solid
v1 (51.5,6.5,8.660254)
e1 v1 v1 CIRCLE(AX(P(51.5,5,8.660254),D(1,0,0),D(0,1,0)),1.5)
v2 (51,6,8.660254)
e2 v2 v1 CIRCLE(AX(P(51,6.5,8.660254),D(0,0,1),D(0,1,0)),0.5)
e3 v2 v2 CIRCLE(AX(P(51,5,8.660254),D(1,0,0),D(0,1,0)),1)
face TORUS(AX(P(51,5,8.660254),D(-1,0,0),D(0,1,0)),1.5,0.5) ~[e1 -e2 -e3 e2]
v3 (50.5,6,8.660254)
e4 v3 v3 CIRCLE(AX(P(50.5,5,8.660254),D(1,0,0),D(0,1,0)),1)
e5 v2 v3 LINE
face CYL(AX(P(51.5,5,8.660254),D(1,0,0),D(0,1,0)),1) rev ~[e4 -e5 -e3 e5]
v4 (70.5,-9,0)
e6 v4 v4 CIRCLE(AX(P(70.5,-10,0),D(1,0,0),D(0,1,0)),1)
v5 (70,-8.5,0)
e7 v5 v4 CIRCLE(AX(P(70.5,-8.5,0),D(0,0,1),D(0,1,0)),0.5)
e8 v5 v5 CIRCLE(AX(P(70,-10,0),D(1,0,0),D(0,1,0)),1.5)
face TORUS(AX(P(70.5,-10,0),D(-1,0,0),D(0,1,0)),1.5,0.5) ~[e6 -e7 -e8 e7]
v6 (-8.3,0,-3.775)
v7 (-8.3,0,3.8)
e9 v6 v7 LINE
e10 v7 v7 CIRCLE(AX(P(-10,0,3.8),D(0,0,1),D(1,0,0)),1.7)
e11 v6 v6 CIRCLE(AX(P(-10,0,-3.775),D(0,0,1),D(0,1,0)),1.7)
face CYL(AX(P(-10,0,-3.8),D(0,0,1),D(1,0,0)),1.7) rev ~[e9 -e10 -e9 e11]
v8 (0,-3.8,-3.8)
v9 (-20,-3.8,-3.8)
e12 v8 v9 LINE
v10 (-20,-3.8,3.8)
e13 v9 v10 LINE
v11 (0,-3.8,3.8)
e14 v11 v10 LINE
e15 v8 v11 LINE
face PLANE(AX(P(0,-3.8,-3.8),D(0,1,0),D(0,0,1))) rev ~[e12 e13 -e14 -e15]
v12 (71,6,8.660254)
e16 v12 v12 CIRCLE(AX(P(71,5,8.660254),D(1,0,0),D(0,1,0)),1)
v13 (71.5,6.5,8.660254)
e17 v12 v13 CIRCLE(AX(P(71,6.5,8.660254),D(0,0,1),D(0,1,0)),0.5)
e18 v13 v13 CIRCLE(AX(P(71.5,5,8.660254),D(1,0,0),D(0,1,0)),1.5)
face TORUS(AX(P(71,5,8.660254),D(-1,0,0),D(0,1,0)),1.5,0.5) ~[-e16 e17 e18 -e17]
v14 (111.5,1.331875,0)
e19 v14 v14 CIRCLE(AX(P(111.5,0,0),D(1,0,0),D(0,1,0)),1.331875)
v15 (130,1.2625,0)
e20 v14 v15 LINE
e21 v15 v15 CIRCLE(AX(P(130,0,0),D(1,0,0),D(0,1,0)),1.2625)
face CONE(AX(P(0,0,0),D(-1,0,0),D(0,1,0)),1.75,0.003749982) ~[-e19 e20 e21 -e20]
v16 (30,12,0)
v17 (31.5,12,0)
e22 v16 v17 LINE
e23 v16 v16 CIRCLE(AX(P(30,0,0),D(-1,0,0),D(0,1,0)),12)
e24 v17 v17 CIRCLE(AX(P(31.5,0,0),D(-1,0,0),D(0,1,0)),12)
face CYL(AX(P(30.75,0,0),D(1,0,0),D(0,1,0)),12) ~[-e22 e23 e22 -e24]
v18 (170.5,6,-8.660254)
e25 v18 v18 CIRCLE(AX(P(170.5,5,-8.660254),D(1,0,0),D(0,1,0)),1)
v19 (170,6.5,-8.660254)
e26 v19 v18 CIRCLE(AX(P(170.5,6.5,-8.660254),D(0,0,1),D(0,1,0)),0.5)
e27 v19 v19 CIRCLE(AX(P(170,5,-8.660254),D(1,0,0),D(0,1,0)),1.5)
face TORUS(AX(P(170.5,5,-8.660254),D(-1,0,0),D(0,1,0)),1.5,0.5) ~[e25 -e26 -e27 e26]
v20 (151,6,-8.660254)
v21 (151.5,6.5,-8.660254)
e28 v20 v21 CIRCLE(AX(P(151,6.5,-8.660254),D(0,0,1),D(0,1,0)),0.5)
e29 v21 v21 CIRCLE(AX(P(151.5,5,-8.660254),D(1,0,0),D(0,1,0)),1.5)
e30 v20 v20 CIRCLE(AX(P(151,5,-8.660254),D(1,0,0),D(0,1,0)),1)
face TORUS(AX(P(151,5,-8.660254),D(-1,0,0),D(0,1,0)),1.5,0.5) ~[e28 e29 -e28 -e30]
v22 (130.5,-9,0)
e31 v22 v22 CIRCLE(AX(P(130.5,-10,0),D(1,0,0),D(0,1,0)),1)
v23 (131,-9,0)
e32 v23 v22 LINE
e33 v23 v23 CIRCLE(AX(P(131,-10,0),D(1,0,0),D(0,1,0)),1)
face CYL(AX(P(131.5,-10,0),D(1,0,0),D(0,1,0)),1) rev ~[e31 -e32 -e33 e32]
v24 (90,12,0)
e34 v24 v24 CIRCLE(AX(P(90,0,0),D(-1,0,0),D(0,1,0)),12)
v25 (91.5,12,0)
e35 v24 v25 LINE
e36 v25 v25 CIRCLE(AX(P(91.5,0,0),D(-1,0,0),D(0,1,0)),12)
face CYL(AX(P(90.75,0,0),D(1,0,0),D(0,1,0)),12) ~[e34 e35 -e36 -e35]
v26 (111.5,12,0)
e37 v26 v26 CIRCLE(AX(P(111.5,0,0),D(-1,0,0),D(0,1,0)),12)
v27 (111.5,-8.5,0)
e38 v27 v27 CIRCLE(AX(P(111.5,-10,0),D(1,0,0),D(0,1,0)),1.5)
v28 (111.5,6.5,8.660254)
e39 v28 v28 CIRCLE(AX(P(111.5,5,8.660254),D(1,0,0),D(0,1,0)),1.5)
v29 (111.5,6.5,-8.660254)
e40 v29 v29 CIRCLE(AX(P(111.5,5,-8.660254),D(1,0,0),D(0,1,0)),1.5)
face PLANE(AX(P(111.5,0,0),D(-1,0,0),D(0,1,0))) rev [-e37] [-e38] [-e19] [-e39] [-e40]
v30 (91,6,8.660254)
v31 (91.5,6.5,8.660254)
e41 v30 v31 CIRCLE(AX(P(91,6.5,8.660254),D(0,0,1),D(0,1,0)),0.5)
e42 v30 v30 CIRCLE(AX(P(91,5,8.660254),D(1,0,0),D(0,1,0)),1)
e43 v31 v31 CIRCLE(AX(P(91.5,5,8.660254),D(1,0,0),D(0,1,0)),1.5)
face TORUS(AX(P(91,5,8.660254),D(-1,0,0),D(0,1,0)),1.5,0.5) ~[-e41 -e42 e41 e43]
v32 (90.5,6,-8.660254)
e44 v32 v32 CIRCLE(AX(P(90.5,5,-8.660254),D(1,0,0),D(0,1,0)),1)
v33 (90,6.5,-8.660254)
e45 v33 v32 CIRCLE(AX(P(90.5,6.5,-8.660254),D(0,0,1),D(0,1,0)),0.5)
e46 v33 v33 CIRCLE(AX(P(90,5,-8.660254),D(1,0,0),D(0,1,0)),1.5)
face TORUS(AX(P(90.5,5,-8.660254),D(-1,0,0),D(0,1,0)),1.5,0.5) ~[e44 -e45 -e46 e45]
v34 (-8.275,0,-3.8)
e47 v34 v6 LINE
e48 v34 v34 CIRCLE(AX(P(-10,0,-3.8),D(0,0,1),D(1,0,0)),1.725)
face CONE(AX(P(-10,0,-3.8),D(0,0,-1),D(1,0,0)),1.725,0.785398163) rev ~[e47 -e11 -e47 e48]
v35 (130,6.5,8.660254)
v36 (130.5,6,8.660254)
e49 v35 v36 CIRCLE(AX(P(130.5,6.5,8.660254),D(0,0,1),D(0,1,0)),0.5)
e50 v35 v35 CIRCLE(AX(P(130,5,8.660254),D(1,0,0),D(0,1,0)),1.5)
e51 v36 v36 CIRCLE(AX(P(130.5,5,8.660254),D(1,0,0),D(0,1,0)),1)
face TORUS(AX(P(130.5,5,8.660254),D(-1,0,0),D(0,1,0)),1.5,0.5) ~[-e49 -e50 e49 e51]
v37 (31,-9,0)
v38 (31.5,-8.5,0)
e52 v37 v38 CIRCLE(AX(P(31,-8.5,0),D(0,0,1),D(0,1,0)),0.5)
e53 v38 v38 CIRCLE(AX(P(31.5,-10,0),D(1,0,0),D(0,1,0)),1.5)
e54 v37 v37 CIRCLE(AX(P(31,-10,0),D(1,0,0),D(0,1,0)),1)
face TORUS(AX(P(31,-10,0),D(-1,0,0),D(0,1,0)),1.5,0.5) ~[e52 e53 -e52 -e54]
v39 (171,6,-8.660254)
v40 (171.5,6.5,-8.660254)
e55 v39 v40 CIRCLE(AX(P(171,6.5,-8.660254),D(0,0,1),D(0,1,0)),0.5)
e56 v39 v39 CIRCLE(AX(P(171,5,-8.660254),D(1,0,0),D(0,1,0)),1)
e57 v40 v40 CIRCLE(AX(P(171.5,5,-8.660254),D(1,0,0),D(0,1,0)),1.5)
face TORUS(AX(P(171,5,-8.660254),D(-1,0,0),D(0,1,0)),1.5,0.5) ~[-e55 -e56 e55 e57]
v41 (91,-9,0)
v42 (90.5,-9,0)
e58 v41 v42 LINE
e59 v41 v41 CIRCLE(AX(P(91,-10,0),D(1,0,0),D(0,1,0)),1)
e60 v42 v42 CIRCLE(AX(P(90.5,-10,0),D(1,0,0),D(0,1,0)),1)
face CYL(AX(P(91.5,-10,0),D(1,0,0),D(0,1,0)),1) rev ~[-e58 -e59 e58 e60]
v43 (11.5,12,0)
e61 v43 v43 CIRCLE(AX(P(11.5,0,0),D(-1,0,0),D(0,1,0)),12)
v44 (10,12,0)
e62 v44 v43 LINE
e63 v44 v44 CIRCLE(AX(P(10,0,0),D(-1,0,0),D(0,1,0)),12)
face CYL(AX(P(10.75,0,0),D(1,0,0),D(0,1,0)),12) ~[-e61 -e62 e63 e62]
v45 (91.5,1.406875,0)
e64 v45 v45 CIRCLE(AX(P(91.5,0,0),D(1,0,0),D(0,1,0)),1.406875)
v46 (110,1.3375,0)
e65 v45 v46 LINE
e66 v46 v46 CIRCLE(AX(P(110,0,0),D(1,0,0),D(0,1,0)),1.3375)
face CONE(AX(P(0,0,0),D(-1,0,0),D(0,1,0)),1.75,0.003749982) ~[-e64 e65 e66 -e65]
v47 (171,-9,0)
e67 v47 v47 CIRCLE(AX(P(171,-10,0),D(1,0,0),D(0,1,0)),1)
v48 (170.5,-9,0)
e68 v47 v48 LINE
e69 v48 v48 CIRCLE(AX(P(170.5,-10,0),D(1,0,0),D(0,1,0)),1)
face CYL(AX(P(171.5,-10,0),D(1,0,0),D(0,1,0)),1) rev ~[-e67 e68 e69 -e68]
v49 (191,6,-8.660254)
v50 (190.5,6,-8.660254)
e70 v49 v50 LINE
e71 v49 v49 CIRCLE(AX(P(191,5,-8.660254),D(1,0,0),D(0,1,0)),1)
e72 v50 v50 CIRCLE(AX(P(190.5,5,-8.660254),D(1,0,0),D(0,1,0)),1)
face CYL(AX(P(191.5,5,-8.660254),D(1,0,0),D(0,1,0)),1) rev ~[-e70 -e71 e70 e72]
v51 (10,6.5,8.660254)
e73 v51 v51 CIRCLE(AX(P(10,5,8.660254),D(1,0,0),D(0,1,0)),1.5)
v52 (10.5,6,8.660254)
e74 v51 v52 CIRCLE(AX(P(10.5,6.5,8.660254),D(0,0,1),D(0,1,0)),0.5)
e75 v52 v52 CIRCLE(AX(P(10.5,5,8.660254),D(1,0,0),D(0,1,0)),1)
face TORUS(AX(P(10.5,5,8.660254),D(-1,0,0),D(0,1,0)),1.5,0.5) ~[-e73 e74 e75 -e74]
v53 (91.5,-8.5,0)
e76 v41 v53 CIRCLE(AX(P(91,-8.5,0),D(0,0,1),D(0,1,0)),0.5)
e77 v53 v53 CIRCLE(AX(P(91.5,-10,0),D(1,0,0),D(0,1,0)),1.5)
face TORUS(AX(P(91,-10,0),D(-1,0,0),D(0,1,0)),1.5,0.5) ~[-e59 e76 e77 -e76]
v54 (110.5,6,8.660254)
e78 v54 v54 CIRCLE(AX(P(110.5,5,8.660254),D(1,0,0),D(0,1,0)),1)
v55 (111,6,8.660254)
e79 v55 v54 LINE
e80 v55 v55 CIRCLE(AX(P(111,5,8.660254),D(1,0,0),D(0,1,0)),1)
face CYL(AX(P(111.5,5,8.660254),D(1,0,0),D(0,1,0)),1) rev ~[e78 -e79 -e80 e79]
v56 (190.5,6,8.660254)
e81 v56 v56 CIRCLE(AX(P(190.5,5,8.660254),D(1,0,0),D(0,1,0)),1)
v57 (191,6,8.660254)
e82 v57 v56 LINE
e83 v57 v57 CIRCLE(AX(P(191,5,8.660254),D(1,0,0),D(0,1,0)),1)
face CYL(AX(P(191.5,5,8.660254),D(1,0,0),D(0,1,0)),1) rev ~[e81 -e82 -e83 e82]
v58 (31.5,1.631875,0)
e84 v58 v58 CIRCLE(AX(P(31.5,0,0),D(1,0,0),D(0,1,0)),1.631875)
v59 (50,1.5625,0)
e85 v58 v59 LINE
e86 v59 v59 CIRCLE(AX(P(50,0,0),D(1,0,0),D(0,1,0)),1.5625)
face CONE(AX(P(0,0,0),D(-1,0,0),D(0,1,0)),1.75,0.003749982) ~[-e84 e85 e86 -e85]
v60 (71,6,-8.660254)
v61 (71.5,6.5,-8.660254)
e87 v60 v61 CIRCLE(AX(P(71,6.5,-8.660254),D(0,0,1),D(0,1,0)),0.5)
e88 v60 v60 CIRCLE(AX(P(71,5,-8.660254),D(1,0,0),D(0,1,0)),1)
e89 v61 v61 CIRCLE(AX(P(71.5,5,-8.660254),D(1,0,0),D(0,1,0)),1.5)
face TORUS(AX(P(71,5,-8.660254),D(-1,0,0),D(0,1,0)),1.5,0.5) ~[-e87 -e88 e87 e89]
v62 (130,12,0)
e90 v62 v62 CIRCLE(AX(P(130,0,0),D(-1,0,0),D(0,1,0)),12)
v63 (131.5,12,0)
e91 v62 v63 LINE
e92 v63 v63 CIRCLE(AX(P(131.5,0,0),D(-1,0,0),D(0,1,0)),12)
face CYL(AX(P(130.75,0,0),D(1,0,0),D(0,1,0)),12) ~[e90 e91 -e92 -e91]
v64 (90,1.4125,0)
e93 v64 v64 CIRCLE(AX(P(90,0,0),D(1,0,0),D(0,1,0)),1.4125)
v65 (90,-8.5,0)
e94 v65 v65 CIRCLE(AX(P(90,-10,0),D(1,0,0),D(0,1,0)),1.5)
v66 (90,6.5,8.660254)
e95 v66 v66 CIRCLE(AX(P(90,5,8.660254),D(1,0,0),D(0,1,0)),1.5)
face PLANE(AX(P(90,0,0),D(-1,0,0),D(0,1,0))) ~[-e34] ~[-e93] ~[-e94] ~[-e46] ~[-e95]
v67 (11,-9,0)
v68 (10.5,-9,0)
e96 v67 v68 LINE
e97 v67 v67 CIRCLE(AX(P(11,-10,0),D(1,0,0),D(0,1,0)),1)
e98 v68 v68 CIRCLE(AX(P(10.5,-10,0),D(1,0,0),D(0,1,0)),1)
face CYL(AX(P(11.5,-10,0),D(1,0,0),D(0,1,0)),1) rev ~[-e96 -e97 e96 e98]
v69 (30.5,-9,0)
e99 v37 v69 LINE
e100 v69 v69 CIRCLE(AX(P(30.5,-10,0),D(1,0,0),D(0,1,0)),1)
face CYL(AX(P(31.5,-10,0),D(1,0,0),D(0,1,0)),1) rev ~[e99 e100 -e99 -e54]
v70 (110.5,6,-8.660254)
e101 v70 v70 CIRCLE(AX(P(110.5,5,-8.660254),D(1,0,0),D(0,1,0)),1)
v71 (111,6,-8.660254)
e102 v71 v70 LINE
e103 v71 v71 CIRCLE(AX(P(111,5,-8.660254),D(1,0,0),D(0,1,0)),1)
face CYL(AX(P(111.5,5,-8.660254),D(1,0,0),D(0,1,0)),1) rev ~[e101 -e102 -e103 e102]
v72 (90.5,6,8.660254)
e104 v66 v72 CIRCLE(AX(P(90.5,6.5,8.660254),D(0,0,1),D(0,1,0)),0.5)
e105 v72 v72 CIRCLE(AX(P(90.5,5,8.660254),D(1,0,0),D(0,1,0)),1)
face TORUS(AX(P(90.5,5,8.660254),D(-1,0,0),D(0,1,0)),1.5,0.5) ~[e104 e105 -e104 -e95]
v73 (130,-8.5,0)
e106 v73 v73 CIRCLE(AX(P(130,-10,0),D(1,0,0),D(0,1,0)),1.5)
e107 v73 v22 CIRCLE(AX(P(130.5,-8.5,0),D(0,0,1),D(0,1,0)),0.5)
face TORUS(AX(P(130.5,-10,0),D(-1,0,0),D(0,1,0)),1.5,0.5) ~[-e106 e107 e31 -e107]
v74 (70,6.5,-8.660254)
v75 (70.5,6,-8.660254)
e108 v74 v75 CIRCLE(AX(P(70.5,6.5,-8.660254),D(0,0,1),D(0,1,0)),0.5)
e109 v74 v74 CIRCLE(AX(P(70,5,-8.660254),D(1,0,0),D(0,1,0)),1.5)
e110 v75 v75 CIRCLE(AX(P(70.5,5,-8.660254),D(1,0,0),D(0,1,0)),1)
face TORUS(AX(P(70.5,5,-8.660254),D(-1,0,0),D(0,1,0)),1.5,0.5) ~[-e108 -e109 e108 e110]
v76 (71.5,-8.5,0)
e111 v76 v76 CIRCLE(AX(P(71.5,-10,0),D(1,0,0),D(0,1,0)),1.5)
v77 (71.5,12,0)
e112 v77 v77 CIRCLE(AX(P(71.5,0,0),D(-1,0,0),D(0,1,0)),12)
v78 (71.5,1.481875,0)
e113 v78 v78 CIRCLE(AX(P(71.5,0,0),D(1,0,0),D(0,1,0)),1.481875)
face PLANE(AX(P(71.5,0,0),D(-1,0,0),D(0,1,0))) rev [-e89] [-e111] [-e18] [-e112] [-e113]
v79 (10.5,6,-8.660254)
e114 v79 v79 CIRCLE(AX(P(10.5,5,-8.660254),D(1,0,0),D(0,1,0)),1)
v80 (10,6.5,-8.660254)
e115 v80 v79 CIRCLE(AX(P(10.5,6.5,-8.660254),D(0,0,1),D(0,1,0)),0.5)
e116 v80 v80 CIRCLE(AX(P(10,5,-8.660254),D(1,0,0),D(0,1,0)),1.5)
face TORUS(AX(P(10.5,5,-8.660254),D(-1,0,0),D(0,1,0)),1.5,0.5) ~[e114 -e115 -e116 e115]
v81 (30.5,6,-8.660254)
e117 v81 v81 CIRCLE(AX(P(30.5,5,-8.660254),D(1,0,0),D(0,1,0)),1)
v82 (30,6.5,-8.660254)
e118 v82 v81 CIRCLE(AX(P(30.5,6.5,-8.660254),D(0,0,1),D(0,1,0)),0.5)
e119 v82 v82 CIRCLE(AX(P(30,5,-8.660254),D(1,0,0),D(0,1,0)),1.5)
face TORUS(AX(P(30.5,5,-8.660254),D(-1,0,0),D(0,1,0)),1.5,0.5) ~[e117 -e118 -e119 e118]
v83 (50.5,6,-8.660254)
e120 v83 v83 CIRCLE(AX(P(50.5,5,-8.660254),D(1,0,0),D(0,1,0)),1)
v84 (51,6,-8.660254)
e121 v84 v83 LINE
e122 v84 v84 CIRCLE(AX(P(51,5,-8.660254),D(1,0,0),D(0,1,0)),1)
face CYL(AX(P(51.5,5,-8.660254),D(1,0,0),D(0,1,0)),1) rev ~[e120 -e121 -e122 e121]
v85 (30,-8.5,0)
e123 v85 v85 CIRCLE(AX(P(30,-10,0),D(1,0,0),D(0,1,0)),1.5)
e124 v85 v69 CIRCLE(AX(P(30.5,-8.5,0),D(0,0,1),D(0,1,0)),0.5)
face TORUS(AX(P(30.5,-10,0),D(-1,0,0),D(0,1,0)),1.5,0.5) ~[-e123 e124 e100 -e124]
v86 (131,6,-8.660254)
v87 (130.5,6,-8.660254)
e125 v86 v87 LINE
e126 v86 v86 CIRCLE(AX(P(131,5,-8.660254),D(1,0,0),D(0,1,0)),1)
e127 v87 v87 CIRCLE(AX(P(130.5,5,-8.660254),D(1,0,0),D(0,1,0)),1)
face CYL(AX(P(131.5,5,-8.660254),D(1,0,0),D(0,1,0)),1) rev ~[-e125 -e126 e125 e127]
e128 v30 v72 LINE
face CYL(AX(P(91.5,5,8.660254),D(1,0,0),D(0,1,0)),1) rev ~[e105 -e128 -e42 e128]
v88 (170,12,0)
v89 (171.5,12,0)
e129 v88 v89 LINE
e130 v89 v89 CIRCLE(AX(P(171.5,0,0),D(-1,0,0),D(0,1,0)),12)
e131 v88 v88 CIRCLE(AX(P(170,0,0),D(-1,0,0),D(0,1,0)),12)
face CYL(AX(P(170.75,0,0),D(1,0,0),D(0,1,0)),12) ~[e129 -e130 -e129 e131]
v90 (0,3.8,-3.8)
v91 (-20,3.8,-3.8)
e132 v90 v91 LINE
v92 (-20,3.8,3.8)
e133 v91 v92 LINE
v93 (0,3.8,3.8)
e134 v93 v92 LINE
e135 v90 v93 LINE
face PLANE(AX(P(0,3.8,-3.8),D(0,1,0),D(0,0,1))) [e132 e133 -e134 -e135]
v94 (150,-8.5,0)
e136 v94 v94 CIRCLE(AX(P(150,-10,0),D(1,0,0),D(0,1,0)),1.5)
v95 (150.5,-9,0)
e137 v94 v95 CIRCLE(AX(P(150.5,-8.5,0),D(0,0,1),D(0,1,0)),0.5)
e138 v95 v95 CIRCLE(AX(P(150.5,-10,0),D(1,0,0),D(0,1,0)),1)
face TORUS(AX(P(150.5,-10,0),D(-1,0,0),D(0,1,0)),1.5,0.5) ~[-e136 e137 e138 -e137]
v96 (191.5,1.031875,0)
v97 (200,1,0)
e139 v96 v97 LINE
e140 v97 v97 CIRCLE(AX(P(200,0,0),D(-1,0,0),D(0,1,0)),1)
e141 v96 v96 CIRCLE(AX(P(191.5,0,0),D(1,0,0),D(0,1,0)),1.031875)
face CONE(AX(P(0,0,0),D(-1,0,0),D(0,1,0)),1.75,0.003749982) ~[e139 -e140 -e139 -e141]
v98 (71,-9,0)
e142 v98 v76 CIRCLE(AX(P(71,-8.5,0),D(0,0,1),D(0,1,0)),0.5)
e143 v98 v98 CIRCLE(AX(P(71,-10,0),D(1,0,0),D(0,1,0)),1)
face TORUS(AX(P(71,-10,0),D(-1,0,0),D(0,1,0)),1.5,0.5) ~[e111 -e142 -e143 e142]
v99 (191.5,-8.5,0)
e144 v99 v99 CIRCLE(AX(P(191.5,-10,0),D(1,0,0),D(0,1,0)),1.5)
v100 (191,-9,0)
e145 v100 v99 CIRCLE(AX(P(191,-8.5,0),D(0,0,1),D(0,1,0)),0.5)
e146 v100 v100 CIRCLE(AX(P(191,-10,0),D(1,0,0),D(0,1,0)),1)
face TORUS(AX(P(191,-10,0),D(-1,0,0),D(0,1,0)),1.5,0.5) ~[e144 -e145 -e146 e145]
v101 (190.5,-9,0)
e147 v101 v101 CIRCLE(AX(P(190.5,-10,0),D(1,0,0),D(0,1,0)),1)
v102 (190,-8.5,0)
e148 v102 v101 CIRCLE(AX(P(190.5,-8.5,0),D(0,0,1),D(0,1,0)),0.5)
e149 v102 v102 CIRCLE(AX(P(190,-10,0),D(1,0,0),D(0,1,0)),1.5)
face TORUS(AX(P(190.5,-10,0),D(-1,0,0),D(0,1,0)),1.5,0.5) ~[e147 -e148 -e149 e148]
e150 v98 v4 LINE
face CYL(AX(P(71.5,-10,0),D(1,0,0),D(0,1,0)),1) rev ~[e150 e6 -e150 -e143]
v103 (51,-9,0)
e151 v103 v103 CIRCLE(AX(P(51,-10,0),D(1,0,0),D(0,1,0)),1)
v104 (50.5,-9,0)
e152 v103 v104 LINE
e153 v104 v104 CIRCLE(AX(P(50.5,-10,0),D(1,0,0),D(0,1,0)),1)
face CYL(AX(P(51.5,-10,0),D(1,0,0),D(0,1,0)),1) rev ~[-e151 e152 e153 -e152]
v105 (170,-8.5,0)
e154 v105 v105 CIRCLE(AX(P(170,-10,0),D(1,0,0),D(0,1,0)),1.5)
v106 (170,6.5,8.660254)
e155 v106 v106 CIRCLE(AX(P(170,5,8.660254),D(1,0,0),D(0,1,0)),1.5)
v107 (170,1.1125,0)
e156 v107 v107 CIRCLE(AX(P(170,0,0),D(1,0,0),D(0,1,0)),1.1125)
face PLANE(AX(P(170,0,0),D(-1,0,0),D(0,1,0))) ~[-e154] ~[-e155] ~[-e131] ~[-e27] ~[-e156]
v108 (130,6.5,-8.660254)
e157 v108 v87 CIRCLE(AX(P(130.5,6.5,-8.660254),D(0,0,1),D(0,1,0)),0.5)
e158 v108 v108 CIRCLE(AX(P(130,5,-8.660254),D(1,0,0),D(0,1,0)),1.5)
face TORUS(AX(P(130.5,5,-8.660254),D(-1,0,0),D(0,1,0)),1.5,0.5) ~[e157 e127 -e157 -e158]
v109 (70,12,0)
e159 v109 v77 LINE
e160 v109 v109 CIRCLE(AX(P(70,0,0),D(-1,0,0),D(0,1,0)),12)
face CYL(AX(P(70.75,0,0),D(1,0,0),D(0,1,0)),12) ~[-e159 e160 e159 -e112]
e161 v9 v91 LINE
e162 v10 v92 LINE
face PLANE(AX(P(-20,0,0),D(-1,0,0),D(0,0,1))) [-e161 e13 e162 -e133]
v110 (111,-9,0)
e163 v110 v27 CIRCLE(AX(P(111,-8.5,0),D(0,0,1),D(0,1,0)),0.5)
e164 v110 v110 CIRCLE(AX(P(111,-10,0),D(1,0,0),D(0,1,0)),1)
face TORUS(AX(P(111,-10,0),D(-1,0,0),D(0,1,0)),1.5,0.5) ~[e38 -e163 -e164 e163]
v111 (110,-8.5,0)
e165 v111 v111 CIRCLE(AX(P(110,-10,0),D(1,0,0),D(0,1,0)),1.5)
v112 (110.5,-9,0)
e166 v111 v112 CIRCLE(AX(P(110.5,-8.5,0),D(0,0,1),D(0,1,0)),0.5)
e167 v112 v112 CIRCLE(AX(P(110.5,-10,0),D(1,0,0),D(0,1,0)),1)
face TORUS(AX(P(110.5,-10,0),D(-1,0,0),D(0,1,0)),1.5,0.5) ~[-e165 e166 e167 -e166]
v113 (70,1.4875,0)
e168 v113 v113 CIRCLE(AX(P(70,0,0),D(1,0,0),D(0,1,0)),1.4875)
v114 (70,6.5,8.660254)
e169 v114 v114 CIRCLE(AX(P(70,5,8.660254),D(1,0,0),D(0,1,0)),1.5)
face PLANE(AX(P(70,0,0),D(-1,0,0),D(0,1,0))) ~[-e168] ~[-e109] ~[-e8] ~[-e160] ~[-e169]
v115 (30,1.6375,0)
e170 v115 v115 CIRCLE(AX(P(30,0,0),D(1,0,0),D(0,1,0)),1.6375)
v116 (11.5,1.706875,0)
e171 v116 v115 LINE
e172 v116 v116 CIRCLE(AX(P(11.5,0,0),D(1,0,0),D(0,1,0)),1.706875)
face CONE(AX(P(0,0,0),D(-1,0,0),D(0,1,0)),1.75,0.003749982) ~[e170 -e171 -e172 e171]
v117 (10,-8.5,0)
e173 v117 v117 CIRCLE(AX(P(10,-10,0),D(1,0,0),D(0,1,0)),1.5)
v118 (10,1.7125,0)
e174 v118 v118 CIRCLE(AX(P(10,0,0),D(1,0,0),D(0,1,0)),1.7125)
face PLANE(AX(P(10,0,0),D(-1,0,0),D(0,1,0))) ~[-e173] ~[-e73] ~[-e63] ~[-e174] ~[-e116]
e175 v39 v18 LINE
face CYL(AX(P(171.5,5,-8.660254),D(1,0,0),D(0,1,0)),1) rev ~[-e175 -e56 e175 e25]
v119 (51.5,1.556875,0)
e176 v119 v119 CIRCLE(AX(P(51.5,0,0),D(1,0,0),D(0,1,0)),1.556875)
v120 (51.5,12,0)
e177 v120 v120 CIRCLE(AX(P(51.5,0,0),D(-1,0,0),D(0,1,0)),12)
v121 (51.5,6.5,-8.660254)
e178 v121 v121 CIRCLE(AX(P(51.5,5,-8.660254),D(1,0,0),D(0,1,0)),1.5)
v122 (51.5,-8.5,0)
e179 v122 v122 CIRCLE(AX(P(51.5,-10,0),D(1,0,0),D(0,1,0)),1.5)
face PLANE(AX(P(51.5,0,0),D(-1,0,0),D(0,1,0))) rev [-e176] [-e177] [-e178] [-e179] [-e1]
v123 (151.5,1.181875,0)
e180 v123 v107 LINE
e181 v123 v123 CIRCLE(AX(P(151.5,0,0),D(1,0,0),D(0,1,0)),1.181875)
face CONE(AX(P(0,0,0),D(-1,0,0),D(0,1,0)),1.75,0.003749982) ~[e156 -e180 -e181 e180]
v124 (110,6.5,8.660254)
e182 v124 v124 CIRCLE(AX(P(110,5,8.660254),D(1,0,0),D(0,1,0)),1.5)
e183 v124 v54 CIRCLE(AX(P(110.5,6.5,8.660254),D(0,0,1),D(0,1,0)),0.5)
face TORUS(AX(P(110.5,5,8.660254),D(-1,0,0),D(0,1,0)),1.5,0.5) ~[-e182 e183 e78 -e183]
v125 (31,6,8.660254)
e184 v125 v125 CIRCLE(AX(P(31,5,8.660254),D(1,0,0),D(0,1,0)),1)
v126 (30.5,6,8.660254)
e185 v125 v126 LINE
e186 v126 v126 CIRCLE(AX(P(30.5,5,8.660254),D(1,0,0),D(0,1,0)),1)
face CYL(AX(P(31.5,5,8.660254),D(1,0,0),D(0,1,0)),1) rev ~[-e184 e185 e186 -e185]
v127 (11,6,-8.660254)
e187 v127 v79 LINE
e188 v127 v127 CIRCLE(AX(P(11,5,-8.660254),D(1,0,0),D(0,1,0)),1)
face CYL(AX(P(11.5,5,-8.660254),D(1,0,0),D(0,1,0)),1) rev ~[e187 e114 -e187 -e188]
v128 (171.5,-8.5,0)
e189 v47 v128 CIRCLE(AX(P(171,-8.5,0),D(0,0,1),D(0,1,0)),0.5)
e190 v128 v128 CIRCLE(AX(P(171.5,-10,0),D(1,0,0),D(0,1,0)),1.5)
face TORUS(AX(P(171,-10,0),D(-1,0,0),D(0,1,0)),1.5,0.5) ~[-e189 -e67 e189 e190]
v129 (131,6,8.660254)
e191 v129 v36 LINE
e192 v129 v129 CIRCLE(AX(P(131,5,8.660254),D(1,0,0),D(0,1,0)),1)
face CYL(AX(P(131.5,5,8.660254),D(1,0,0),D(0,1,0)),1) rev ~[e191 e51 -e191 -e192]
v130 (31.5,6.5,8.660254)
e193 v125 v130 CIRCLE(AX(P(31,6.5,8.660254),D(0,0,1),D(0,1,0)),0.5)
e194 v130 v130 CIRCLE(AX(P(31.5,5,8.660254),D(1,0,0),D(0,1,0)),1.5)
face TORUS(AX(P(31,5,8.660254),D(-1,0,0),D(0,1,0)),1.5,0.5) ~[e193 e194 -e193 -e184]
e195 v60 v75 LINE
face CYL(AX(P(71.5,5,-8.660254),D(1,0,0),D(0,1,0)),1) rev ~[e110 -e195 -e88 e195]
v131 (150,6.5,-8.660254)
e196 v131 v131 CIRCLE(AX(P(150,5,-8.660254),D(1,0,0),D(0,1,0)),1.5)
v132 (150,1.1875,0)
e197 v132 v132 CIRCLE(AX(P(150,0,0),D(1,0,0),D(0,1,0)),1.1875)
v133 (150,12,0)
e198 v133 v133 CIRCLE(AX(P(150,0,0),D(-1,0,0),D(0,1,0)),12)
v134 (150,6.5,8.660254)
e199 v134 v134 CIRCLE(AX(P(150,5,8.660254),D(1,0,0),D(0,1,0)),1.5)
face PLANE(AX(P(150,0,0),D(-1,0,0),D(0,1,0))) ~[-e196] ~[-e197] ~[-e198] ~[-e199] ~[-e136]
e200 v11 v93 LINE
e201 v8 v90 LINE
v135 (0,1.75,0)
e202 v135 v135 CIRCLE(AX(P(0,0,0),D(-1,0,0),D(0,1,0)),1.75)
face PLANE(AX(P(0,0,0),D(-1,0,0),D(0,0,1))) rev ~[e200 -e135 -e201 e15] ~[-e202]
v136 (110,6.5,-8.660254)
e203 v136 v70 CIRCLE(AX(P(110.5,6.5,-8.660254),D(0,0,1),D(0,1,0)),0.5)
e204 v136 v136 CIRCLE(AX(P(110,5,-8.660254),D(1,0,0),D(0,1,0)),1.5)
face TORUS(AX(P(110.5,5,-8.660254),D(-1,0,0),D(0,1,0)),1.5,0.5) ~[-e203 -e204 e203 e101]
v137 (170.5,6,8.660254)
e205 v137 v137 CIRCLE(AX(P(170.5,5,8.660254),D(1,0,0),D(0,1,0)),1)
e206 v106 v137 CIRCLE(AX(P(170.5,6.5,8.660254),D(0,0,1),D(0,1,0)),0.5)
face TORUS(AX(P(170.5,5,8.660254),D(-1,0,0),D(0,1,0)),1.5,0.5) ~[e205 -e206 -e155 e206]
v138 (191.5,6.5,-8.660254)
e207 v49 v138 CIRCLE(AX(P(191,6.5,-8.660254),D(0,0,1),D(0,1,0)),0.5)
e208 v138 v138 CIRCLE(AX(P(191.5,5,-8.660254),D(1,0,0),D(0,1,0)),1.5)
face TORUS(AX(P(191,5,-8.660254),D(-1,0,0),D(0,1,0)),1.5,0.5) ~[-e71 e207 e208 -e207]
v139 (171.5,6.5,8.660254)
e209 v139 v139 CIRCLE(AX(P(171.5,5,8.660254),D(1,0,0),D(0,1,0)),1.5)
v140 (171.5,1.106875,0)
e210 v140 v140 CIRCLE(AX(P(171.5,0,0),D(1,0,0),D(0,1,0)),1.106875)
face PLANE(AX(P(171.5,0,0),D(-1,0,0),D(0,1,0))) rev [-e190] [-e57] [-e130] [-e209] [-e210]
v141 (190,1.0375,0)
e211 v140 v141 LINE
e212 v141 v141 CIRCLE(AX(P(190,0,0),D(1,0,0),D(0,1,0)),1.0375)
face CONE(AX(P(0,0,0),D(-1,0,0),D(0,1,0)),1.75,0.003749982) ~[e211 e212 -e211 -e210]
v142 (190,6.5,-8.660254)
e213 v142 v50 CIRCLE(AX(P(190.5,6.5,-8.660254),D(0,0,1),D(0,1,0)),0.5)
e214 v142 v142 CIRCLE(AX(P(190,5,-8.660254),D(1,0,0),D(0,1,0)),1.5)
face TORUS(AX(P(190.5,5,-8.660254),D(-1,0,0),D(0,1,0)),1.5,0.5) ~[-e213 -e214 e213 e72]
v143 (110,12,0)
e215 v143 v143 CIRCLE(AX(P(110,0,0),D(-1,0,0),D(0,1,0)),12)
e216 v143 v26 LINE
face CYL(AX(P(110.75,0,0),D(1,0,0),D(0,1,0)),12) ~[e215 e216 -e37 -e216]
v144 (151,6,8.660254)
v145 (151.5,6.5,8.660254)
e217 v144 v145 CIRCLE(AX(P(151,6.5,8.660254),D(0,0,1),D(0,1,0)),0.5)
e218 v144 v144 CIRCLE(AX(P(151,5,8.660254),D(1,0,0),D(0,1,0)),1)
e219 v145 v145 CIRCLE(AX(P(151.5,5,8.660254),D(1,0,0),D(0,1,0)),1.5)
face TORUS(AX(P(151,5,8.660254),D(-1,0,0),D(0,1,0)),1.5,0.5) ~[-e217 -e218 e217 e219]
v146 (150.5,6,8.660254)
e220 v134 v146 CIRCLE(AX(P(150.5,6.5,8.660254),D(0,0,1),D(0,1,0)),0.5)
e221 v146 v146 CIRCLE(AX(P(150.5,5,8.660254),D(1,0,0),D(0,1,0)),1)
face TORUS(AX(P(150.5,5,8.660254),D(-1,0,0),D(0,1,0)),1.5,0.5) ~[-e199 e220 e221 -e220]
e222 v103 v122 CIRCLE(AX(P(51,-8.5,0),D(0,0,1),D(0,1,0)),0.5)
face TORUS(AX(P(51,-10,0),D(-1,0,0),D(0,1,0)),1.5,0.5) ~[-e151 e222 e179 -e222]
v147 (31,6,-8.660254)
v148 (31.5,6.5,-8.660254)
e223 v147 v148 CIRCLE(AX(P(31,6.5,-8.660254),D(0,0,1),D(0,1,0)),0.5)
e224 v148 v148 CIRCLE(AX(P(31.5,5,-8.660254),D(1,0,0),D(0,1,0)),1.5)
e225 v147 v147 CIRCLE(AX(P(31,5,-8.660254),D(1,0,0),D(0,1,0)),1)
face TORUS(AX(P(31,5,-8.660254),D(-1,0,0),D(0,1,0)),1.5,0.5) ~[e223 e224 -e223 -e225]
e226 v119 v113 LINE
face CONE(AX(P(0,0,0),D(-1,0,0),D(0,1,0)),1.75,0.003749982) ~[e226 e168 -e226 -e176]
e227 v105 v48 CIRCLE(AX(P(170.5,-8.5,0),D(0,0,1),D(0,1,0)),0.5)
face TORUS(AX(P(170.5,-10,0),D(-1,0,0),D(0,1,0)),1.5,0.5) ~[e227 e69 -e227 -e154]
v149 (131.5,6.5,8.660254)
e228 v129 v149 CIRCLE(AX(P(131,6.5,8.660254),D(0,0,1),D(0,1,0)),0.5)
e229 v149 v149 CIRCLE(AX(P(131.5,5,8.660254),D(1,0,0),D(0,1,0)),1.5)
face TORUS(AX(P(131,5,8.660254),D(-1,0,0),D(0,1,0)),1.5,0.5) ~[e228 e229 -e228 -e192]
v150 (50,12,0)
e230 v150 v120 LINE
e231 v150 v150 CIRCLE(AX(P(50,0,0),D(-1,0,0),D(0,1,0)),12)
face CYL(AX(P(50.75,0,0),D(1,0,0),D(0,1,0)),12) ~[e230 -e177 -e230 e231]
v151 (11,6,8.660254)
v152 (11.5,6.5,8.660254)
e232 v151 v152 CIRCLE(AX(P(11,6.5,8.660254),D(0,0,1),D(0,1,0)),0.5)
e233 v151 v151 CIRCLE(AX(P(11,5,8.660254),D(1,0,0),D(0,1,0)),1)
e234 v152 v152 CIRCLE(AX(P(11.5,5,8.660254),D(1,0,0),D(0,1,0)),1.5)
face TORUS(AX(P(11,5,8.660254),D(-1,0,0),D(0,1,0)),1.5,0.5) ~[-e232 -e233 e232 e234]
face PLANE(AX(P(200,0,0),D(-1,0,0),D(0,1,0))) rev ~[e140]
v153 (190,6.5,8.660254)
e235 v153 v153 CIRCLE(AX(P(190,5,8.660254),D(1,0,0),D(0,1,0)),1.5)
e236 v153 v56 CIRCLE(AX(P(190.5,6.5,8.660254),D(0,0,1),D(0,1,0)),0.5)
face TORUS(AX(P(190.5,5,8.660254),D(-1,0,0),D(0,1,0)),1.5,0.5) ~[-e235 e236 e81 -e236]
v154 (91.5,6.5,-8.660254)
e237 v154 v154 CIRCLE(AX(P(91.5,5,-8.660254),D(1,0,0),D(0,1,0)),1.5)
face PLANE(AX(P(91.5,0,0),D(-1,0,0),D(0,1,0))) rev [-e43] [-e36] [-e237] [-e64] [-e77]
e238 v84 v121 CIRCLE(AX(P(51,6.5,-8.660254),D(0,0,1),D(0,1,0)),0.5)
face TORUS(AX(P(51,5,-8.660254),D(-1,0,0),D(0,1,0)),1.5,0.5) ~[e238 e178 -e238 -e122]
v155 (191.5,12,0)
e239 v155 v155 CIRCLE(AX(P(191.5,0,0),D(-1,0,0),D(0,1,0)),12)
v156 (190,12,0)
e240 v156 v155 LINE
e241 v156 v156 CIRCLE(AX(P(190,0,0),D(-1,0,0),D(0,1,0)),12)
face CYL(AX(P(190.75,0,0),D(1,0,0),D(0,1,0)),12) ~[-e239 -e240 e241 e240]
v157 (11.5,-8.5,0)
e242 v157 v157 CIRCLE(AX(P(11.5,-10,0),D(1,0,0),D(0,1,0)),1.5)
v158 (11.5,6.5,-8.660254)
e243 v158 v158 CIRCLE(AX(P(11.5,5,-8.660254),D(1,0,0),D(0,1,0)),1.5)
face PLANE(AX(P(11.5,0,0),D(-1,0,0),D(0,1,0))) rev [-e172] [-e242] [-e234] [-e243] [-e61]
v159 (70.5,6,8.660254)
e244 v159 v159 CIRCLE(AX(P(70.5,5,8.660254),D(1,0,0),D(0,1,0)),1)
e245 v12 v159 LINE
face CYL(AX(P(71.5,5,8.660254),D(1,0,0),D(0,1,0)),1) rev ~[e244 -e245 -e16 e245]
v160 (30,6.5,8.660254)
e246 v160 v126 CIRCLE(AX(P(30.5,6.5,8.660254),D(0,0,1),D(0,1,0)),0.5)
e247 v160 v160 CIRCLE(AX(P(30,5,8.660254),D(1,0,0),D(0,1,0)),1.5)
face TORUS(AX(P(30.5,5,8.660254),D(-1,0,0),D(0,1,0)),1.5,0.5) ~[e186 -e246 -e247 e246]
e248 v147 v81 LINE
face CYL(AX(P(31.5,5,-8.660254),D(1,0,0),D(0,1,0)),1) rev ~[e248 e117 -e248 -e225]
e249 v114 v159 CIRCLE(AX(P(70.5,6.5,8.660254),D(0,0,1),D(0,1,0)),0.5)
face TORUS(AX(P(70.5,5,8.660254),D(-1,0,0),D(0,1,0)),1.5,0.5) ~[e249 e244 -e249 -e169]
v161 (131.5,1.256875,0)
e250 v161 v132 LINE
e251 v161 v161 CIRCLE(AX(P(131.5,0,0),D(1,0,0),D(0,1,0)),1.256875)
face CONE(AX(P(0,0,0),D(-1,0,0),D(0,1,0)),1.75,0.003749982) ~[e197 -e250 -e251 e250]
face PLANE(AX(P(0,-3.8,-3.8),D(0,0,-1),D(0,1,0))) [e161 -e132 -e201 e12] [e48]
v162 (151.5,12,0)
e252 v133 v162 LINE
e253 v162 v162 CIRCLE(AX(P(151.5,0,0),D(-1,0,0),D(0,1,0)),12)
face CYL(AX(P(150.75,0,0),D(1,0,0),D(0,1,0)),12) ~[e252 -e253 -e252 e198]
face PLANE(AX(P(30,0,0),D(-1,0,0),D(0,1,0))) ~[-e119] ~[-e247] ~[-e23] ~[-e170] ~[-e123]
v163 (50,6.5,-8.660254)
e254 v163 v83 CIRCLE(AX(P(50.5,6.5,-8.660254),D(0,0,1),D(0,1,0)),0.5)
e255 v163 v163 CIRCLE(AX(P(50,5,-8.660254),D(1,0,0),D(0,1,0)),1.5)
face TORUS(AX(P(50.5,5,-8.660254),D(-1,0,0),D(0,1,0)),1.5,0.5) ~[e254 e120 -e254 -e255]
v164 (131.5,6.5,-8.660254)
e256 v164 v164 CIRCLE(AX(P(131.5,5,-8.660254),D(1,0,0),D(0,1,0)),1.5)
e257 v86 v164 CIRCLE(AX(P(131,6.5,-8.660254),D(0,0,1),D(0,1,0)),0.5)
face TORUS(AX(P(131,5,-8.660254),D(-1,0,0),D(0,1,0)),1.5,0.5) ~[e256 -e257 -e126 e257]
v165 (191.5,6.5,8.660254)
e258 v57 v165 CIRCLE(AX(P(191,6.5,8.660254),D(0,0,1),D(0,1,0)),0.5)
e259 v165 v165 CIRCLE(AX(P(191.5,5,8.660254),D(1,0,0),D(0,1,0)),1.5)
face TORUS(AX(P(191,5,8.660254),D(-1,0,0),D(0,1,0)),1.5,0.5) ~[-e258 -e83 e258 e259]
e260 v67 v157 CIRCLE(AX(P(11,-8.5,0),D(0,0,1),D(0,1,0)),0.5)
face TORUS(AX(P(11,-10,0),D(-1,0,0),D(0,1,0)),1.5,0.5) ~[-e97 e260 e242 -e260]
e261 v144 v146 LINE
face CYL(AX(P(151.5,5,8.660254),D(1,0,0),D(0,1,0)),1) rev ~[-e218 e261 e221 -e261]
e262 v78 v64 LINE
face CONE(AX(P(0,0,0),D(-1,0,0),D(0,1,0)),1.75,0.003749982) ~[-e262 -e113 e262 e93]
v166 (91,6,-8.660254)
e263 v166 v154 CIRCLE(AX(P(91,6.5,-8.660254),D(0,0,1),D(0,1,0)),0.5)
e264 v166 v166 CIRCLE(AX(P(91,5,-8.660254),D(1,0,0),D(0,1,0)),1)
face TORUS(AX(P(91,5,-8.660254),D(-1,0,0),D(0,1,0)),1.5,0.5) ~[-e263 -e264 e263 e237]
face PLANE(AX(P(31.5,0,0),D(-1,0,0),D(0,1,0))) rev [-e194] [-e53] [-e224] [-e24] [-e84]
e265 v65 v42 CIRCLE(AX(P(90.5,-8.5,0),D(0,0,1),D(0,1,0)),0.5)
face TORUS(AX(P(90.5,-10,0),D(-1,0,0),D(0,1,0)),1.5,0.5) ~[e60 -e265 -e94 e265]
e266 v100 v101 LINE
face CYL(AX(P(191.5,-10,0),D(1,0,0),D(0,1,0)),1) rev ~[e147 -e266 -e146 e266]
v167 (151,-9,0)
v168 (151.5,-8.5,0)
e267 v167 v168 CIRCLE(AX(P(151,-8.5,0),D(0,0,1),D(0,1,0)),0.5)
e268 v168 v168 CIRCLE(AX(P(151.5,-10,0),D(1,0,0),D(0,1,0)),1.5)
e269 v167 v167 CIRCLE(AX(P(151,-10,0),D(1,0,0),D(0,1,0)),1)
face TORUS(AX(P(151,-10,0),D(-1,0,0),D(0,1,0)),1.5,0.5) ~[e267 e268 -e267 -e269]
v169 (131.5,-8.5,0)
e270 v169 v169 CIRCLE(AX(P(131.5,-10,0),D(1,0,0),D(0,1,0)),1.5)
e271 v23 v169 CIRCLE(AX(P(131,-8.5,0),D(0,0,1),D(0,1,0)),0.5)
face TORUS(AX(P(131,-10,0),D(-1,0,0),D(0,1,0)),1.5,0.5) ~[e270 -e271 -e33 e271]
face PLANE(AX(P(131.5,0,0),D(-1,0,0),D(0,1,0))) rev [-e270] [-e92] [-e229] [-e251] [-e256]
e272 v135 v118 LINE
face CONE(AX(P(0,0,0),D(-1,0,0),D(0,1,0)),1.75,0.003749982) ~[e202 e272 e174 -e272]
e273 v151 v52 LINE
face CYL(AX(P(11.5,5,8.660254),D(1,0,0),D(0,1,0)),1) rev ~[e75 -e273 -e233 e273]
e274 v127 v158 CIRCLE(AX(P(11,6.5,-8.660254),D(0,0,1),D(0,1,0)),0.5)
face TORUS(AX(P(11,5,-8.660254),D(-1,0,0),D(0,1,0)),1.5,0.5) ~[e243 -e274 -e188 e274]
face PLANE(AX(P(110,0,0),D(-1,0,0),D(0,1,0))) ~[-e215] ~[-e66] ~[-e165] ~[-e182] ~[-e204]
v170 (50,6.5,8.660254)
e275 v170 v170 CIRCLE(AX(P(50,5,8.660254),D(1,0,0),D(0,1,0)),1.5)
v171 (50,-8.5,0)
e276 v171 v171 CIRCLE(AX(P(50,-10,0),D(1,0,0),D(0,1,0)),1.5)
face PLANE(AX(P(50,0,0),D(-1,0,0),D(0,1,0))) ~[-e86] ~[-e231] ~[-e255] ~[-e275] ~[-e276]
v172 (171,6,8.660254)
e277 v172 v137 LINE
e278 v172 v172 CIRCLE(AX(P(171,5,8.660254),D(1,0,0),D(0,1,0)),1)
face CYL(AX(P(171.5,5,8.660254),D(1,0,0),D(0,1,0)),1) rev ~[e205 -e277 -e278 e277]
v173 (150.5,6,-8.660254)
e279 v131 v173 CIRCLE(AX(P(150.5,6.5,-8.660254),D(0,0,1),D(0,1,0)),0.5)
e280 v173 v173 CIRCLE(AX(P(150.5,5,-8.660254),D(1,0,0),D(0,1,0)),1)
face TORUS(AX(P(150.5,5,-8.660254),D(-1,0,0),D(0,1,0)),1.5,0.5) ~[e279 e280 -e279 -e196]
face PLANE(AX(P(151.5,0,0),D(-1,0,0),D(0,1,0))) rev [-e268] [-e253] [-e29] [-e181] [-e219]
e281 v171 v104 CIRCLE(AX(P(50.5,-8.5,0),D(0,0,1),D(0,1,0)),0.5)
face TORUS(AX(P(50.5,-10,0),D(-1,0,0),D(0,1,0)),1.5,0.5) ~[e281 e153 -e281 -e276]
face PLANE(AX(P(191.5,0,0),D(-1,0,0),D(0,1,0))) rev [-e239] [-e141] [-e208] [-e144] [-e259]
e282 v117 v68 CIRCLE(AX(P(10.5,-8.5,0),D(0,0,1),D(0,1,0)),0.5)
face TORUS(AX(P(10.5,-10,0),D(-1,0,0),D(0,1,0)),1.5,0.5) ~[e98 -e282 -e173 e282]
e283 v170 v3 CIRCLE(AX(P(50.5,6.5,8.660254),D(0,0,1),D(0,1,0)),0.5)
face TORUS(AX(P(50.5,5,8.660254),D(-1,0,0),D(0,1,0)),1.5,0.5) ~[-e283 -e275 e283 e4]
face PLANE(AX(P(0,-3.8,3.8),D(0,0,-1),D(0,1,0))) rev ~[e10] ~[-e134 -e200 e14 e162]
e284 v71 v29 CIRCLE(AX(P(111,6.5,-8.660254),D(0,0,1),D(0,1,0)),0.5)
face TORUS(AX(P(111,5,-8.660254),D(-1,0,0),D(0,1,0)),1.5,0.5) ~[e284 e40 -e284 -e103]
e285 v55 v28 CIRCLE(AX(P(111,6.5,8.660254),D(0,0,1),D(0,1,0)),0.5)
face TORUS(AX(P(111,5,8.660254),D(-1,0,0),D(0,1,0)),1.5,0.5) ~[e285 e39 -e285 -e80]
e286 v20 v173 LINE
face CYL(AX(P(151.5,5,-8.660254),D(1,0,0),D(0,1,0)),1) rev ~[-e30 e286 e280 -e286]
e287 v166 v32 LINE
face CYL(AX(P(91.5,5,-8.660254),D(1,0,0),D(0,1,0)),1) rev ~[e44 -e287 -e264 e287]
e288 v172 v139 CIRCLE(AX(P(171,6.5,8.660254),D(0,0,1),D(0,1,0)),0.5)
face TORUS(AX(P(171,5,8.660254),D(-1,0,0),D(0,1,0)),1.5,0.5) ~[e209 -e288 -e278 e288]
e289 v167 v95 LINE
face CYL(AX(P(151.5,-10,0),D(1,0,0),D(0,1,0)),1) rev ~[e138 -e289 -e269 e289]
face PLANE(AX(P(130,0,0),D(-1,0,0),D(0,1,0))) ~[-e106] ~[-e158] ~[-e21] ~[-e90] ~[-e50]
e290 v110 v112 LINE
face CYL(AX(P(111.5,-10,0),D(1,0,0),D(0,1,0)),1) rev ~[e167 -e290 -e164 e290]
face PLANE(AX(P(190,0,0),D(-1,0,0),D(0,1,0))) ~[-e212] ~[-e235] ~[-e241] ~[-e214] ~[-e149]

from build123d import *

# Parameters (mm, degrees)
SKETCH3_W                      = 1.5
SKETCH3_H                      = 12
CUT_EXTRUDE1_REACH             = 191.262
SKETCH5_R                      = 1
FILLET1_R                      = 0.5
LPATTERN1_COUNT                = 10
LPATTERN1_PITCH                = 20
FILLET1_OF_LPATTERN1_R         = 0.5
SKETCH16_W                     = 7.6
SKETCH16_H                     = 7.6
BOSS_EXTRUDE1_DEPTH            = 20
M3_CLEARANCE_HOLE1_D           = 3.4
M3_CLEARANCE_HOLE1_CSINK_D     = 3.45
M3_CLEARANCE_HOLE1_CSINK_ANGLE = 90


with BuildPart() as part:
    # Sketch2 → Revolve1 (revolve)
    with BuildSketch(Plane.XY):
        Polygon((0, 1.75), (200, 1), (200, 0), (0, 0), align=None)
    revolve(axis=Axis((200, 0, 0), (-1, 0, 0)))

    # Sketch3 → Revolve2 (revolve)
    with BuildSketch(Plane.XY):
        with Locations((10.75, 6)):
            Rectangle(SKETCH3_W, SKETCH3_H)
    revolve2 = revolve(axis=Axis((11.5, 0, 0), (-1, 0, 0)))

    # Sketch5 → Cut-Extrude1 (cut, up to next)
    with BuildSketch(Plane(origin=(11.5, 0, 0), x_dir=(0, 0, -1), z_dir=(1, 0, 0)), mode=Mode.PRIVATE) as cut_extrude1_sk1:
        with Locations((0, -10)):
            Circle(SKETCH5_R)
    cut_extrude1_tool1 = extrude(cut_extrude1_sk1.sketch, amount=-CUT_EXTRUDE1_REACH, mode=Mode.PRIVATE) & part.part
    # Sketch5 → Cut-Extrude1 (cut, up to next)
    with BuildSketch(Plane(origin=(11.5, 0, 0), x_dir=(0, 0, -1), z_dir=(1, 0, 0)), mode=Mode.PRIVATE) as cut_extrude1_sk2:
        with Locations((8.660254038, 5)):
            Circle(SKETCH5_R)
    cut_extrude1_tool2 = extrude(cut_extrude1_sk2.sketch, amount=-CUT_EXTRUDE1_REACH, mode=Mode.PRIVATE) & part.part
    # Sketch5 → Cut-Extrude1 (cut, up to next)
    with BuildSketch(Plane(origin=(11.5, 0, 0), x_dir=(0, 0, -1), z_dir=(1, 0, 0)), mode=Mode.PRIVATE) as cut_extrude1_sk3:
        with Locations((-8.660254038, 5)):
            Circle(SKETCH5_R)
    cut_extrude1_tool3 = extrude(cut_extrude1_sk3.sketch, amount=-CUT_EXTRUDE1_REACH, mode=Mode.PRIVATE) & part.part
    cut_extrude1_1 = cut_extrude1_tool1.solids().sort_by_distance((11.5, -10, 0))[0]
    add(cut_extrude1_1, mode=Mode.SUBTRACT)
    cut_extrude1_2 = cut_extrude1_tool2.solids().sort_by_distance((11.5, 5, -8.660254))[0]
    add(cut_extrude1_2, mode=Mode.SUBTRACT)
    cut_extrude1_3 = cut_extrude1_tool3.solids().sort_by_distance((11.5, 5, 8.660254))[0]
    add(cut_extrude1_3, mode=Mode.SUBTRACT)
    cut_extrude1 = cut_extrude1_1 + cut_extrude1_2 + cut_extrude1_3  # Cut-Extrude1 as one shape, for the pattern or mirror that repeats it

    # Fillet1
    fillet1_edges = [part.edges().sort_by_distance(p)[0] for p in [
        (10, 5, -7.660254038),
        (10, -10, 1),
        (11.5, -10, 1),
        (11.5, 5, -7.660254038),
        (10, 5, 9.660254038),
        (11.5, 5, 9.660254038),
    ]]
    fillet(fillet1_edges, radius=FILLET1_R)

    # LPattern1: Revolve2, Cut-Extrude1 ×10
    with Locations(*[(i * LPATTERN1_PITCH, 0, 0) for i in range(1, LPATTERN1_COUNT)]):
        add(revolve2)
        add(cut_extrude1, mode=Mode.SUBTRACT)

    # Fillet1 of LPattern1
    fillet1_of_lpattern1_edges = [part.edges().sort_by_distance(p)[0] for p in [
        (30, 5, -7.660254038),
        (30, -10, 1),
        (31.5, -10, 1),
        (31.5, 5, -7.660254038),
        (30, 5, 9.660254038),
        (31.5, 5, 9.660254038),
        (50, 5, -7.660254038),
        (50, -10, 1),
        (51.5, -10, 1),
        (51.5, 5, -7.660254038),
        (50, 5, 9.660254038),
        (51.5, 5, 9.660254038),
        (70, 5, -7.660254038),
        (70, -10, 1),
        (71.5, -10, 1),
        (71.5, 5, -7.660254038),
        (70, 5, 9.660254038),
        (71.5, 5, 9.660254038),
        (90, 5, -7.660254038),
        (90, -10, 1),
        (91.5, -10, 1),
        (91.5, 5, -7.660254038),
        (90, 5, 9.660254038),
        (91.5, 5, 9.660254038),
        (110, 5, -7.660254038),
        (110, -10, 1),
        (111.5, -10, 1),
        (111.5, 5, -7.660254038),
        (110, 5, 9.660254038),
        (111.5, 5, 9.660254038),
        (130, 5, -7.660254038),
        (130, -10, 1),
        (131.5, -10, 1),
        (131.5, 5, -7.660254038),
        (130, 5, 9.660254038),
        (131.5, 5, 9.660254038),
        (150, 5, -7.660254038),
        (150, -10, 1),
        (151.5, -10, 1),
        (151.5, 5, -7.660254038),
        (150, 5, 9.660254038),
        (151.5, 5, 9.660254038),
        (170, 5, -7.660254038),
        (170, -10, 1),
        (171.5, -10, 1),
        (171.5, 5, -7.660254038),
        (170, 5, 9.660254038),
        (171.5, 5, 9.660254038),
        (190, 5, -7.660254038),
        (190, -10, 1),
        (191.5, -10, 1),
        (191.5, 5, -7.660254038),
        (190, 5, 9.660254038),
        (191.5, 5, 9.660254038),
    ]]
    fillet(fillet1_of_lpattern1_edges, radius=FILLET1_OF_LPATTERN1_R)

    # Sketch16 → Boss-Extrude1 (add)
    with BuildSketch(Plane.ZY):
        Rectangle(SKETCH16_W, SKETCH16_H)
    extrude(amount=BOSS_EXTRUDE1_DEPTH)

    # M3 Clearance Hole1 (through all)
    with Locations(Plane(origin=(0, 0, -3.8), x_dir=(-1, 0, 0), z_dir=(0, 0, -1))):
        with Locations((10, 0)):
            CounterSinkHole(M3_CLEARANCE_HOLE1_D / 2, M3_CLEARANCE_HOLE1_CSINK_D / 2, counter_sink_angle=M3_CLEARANCE_HOLE1_CSINK_ANGLE)


solid = part.part
